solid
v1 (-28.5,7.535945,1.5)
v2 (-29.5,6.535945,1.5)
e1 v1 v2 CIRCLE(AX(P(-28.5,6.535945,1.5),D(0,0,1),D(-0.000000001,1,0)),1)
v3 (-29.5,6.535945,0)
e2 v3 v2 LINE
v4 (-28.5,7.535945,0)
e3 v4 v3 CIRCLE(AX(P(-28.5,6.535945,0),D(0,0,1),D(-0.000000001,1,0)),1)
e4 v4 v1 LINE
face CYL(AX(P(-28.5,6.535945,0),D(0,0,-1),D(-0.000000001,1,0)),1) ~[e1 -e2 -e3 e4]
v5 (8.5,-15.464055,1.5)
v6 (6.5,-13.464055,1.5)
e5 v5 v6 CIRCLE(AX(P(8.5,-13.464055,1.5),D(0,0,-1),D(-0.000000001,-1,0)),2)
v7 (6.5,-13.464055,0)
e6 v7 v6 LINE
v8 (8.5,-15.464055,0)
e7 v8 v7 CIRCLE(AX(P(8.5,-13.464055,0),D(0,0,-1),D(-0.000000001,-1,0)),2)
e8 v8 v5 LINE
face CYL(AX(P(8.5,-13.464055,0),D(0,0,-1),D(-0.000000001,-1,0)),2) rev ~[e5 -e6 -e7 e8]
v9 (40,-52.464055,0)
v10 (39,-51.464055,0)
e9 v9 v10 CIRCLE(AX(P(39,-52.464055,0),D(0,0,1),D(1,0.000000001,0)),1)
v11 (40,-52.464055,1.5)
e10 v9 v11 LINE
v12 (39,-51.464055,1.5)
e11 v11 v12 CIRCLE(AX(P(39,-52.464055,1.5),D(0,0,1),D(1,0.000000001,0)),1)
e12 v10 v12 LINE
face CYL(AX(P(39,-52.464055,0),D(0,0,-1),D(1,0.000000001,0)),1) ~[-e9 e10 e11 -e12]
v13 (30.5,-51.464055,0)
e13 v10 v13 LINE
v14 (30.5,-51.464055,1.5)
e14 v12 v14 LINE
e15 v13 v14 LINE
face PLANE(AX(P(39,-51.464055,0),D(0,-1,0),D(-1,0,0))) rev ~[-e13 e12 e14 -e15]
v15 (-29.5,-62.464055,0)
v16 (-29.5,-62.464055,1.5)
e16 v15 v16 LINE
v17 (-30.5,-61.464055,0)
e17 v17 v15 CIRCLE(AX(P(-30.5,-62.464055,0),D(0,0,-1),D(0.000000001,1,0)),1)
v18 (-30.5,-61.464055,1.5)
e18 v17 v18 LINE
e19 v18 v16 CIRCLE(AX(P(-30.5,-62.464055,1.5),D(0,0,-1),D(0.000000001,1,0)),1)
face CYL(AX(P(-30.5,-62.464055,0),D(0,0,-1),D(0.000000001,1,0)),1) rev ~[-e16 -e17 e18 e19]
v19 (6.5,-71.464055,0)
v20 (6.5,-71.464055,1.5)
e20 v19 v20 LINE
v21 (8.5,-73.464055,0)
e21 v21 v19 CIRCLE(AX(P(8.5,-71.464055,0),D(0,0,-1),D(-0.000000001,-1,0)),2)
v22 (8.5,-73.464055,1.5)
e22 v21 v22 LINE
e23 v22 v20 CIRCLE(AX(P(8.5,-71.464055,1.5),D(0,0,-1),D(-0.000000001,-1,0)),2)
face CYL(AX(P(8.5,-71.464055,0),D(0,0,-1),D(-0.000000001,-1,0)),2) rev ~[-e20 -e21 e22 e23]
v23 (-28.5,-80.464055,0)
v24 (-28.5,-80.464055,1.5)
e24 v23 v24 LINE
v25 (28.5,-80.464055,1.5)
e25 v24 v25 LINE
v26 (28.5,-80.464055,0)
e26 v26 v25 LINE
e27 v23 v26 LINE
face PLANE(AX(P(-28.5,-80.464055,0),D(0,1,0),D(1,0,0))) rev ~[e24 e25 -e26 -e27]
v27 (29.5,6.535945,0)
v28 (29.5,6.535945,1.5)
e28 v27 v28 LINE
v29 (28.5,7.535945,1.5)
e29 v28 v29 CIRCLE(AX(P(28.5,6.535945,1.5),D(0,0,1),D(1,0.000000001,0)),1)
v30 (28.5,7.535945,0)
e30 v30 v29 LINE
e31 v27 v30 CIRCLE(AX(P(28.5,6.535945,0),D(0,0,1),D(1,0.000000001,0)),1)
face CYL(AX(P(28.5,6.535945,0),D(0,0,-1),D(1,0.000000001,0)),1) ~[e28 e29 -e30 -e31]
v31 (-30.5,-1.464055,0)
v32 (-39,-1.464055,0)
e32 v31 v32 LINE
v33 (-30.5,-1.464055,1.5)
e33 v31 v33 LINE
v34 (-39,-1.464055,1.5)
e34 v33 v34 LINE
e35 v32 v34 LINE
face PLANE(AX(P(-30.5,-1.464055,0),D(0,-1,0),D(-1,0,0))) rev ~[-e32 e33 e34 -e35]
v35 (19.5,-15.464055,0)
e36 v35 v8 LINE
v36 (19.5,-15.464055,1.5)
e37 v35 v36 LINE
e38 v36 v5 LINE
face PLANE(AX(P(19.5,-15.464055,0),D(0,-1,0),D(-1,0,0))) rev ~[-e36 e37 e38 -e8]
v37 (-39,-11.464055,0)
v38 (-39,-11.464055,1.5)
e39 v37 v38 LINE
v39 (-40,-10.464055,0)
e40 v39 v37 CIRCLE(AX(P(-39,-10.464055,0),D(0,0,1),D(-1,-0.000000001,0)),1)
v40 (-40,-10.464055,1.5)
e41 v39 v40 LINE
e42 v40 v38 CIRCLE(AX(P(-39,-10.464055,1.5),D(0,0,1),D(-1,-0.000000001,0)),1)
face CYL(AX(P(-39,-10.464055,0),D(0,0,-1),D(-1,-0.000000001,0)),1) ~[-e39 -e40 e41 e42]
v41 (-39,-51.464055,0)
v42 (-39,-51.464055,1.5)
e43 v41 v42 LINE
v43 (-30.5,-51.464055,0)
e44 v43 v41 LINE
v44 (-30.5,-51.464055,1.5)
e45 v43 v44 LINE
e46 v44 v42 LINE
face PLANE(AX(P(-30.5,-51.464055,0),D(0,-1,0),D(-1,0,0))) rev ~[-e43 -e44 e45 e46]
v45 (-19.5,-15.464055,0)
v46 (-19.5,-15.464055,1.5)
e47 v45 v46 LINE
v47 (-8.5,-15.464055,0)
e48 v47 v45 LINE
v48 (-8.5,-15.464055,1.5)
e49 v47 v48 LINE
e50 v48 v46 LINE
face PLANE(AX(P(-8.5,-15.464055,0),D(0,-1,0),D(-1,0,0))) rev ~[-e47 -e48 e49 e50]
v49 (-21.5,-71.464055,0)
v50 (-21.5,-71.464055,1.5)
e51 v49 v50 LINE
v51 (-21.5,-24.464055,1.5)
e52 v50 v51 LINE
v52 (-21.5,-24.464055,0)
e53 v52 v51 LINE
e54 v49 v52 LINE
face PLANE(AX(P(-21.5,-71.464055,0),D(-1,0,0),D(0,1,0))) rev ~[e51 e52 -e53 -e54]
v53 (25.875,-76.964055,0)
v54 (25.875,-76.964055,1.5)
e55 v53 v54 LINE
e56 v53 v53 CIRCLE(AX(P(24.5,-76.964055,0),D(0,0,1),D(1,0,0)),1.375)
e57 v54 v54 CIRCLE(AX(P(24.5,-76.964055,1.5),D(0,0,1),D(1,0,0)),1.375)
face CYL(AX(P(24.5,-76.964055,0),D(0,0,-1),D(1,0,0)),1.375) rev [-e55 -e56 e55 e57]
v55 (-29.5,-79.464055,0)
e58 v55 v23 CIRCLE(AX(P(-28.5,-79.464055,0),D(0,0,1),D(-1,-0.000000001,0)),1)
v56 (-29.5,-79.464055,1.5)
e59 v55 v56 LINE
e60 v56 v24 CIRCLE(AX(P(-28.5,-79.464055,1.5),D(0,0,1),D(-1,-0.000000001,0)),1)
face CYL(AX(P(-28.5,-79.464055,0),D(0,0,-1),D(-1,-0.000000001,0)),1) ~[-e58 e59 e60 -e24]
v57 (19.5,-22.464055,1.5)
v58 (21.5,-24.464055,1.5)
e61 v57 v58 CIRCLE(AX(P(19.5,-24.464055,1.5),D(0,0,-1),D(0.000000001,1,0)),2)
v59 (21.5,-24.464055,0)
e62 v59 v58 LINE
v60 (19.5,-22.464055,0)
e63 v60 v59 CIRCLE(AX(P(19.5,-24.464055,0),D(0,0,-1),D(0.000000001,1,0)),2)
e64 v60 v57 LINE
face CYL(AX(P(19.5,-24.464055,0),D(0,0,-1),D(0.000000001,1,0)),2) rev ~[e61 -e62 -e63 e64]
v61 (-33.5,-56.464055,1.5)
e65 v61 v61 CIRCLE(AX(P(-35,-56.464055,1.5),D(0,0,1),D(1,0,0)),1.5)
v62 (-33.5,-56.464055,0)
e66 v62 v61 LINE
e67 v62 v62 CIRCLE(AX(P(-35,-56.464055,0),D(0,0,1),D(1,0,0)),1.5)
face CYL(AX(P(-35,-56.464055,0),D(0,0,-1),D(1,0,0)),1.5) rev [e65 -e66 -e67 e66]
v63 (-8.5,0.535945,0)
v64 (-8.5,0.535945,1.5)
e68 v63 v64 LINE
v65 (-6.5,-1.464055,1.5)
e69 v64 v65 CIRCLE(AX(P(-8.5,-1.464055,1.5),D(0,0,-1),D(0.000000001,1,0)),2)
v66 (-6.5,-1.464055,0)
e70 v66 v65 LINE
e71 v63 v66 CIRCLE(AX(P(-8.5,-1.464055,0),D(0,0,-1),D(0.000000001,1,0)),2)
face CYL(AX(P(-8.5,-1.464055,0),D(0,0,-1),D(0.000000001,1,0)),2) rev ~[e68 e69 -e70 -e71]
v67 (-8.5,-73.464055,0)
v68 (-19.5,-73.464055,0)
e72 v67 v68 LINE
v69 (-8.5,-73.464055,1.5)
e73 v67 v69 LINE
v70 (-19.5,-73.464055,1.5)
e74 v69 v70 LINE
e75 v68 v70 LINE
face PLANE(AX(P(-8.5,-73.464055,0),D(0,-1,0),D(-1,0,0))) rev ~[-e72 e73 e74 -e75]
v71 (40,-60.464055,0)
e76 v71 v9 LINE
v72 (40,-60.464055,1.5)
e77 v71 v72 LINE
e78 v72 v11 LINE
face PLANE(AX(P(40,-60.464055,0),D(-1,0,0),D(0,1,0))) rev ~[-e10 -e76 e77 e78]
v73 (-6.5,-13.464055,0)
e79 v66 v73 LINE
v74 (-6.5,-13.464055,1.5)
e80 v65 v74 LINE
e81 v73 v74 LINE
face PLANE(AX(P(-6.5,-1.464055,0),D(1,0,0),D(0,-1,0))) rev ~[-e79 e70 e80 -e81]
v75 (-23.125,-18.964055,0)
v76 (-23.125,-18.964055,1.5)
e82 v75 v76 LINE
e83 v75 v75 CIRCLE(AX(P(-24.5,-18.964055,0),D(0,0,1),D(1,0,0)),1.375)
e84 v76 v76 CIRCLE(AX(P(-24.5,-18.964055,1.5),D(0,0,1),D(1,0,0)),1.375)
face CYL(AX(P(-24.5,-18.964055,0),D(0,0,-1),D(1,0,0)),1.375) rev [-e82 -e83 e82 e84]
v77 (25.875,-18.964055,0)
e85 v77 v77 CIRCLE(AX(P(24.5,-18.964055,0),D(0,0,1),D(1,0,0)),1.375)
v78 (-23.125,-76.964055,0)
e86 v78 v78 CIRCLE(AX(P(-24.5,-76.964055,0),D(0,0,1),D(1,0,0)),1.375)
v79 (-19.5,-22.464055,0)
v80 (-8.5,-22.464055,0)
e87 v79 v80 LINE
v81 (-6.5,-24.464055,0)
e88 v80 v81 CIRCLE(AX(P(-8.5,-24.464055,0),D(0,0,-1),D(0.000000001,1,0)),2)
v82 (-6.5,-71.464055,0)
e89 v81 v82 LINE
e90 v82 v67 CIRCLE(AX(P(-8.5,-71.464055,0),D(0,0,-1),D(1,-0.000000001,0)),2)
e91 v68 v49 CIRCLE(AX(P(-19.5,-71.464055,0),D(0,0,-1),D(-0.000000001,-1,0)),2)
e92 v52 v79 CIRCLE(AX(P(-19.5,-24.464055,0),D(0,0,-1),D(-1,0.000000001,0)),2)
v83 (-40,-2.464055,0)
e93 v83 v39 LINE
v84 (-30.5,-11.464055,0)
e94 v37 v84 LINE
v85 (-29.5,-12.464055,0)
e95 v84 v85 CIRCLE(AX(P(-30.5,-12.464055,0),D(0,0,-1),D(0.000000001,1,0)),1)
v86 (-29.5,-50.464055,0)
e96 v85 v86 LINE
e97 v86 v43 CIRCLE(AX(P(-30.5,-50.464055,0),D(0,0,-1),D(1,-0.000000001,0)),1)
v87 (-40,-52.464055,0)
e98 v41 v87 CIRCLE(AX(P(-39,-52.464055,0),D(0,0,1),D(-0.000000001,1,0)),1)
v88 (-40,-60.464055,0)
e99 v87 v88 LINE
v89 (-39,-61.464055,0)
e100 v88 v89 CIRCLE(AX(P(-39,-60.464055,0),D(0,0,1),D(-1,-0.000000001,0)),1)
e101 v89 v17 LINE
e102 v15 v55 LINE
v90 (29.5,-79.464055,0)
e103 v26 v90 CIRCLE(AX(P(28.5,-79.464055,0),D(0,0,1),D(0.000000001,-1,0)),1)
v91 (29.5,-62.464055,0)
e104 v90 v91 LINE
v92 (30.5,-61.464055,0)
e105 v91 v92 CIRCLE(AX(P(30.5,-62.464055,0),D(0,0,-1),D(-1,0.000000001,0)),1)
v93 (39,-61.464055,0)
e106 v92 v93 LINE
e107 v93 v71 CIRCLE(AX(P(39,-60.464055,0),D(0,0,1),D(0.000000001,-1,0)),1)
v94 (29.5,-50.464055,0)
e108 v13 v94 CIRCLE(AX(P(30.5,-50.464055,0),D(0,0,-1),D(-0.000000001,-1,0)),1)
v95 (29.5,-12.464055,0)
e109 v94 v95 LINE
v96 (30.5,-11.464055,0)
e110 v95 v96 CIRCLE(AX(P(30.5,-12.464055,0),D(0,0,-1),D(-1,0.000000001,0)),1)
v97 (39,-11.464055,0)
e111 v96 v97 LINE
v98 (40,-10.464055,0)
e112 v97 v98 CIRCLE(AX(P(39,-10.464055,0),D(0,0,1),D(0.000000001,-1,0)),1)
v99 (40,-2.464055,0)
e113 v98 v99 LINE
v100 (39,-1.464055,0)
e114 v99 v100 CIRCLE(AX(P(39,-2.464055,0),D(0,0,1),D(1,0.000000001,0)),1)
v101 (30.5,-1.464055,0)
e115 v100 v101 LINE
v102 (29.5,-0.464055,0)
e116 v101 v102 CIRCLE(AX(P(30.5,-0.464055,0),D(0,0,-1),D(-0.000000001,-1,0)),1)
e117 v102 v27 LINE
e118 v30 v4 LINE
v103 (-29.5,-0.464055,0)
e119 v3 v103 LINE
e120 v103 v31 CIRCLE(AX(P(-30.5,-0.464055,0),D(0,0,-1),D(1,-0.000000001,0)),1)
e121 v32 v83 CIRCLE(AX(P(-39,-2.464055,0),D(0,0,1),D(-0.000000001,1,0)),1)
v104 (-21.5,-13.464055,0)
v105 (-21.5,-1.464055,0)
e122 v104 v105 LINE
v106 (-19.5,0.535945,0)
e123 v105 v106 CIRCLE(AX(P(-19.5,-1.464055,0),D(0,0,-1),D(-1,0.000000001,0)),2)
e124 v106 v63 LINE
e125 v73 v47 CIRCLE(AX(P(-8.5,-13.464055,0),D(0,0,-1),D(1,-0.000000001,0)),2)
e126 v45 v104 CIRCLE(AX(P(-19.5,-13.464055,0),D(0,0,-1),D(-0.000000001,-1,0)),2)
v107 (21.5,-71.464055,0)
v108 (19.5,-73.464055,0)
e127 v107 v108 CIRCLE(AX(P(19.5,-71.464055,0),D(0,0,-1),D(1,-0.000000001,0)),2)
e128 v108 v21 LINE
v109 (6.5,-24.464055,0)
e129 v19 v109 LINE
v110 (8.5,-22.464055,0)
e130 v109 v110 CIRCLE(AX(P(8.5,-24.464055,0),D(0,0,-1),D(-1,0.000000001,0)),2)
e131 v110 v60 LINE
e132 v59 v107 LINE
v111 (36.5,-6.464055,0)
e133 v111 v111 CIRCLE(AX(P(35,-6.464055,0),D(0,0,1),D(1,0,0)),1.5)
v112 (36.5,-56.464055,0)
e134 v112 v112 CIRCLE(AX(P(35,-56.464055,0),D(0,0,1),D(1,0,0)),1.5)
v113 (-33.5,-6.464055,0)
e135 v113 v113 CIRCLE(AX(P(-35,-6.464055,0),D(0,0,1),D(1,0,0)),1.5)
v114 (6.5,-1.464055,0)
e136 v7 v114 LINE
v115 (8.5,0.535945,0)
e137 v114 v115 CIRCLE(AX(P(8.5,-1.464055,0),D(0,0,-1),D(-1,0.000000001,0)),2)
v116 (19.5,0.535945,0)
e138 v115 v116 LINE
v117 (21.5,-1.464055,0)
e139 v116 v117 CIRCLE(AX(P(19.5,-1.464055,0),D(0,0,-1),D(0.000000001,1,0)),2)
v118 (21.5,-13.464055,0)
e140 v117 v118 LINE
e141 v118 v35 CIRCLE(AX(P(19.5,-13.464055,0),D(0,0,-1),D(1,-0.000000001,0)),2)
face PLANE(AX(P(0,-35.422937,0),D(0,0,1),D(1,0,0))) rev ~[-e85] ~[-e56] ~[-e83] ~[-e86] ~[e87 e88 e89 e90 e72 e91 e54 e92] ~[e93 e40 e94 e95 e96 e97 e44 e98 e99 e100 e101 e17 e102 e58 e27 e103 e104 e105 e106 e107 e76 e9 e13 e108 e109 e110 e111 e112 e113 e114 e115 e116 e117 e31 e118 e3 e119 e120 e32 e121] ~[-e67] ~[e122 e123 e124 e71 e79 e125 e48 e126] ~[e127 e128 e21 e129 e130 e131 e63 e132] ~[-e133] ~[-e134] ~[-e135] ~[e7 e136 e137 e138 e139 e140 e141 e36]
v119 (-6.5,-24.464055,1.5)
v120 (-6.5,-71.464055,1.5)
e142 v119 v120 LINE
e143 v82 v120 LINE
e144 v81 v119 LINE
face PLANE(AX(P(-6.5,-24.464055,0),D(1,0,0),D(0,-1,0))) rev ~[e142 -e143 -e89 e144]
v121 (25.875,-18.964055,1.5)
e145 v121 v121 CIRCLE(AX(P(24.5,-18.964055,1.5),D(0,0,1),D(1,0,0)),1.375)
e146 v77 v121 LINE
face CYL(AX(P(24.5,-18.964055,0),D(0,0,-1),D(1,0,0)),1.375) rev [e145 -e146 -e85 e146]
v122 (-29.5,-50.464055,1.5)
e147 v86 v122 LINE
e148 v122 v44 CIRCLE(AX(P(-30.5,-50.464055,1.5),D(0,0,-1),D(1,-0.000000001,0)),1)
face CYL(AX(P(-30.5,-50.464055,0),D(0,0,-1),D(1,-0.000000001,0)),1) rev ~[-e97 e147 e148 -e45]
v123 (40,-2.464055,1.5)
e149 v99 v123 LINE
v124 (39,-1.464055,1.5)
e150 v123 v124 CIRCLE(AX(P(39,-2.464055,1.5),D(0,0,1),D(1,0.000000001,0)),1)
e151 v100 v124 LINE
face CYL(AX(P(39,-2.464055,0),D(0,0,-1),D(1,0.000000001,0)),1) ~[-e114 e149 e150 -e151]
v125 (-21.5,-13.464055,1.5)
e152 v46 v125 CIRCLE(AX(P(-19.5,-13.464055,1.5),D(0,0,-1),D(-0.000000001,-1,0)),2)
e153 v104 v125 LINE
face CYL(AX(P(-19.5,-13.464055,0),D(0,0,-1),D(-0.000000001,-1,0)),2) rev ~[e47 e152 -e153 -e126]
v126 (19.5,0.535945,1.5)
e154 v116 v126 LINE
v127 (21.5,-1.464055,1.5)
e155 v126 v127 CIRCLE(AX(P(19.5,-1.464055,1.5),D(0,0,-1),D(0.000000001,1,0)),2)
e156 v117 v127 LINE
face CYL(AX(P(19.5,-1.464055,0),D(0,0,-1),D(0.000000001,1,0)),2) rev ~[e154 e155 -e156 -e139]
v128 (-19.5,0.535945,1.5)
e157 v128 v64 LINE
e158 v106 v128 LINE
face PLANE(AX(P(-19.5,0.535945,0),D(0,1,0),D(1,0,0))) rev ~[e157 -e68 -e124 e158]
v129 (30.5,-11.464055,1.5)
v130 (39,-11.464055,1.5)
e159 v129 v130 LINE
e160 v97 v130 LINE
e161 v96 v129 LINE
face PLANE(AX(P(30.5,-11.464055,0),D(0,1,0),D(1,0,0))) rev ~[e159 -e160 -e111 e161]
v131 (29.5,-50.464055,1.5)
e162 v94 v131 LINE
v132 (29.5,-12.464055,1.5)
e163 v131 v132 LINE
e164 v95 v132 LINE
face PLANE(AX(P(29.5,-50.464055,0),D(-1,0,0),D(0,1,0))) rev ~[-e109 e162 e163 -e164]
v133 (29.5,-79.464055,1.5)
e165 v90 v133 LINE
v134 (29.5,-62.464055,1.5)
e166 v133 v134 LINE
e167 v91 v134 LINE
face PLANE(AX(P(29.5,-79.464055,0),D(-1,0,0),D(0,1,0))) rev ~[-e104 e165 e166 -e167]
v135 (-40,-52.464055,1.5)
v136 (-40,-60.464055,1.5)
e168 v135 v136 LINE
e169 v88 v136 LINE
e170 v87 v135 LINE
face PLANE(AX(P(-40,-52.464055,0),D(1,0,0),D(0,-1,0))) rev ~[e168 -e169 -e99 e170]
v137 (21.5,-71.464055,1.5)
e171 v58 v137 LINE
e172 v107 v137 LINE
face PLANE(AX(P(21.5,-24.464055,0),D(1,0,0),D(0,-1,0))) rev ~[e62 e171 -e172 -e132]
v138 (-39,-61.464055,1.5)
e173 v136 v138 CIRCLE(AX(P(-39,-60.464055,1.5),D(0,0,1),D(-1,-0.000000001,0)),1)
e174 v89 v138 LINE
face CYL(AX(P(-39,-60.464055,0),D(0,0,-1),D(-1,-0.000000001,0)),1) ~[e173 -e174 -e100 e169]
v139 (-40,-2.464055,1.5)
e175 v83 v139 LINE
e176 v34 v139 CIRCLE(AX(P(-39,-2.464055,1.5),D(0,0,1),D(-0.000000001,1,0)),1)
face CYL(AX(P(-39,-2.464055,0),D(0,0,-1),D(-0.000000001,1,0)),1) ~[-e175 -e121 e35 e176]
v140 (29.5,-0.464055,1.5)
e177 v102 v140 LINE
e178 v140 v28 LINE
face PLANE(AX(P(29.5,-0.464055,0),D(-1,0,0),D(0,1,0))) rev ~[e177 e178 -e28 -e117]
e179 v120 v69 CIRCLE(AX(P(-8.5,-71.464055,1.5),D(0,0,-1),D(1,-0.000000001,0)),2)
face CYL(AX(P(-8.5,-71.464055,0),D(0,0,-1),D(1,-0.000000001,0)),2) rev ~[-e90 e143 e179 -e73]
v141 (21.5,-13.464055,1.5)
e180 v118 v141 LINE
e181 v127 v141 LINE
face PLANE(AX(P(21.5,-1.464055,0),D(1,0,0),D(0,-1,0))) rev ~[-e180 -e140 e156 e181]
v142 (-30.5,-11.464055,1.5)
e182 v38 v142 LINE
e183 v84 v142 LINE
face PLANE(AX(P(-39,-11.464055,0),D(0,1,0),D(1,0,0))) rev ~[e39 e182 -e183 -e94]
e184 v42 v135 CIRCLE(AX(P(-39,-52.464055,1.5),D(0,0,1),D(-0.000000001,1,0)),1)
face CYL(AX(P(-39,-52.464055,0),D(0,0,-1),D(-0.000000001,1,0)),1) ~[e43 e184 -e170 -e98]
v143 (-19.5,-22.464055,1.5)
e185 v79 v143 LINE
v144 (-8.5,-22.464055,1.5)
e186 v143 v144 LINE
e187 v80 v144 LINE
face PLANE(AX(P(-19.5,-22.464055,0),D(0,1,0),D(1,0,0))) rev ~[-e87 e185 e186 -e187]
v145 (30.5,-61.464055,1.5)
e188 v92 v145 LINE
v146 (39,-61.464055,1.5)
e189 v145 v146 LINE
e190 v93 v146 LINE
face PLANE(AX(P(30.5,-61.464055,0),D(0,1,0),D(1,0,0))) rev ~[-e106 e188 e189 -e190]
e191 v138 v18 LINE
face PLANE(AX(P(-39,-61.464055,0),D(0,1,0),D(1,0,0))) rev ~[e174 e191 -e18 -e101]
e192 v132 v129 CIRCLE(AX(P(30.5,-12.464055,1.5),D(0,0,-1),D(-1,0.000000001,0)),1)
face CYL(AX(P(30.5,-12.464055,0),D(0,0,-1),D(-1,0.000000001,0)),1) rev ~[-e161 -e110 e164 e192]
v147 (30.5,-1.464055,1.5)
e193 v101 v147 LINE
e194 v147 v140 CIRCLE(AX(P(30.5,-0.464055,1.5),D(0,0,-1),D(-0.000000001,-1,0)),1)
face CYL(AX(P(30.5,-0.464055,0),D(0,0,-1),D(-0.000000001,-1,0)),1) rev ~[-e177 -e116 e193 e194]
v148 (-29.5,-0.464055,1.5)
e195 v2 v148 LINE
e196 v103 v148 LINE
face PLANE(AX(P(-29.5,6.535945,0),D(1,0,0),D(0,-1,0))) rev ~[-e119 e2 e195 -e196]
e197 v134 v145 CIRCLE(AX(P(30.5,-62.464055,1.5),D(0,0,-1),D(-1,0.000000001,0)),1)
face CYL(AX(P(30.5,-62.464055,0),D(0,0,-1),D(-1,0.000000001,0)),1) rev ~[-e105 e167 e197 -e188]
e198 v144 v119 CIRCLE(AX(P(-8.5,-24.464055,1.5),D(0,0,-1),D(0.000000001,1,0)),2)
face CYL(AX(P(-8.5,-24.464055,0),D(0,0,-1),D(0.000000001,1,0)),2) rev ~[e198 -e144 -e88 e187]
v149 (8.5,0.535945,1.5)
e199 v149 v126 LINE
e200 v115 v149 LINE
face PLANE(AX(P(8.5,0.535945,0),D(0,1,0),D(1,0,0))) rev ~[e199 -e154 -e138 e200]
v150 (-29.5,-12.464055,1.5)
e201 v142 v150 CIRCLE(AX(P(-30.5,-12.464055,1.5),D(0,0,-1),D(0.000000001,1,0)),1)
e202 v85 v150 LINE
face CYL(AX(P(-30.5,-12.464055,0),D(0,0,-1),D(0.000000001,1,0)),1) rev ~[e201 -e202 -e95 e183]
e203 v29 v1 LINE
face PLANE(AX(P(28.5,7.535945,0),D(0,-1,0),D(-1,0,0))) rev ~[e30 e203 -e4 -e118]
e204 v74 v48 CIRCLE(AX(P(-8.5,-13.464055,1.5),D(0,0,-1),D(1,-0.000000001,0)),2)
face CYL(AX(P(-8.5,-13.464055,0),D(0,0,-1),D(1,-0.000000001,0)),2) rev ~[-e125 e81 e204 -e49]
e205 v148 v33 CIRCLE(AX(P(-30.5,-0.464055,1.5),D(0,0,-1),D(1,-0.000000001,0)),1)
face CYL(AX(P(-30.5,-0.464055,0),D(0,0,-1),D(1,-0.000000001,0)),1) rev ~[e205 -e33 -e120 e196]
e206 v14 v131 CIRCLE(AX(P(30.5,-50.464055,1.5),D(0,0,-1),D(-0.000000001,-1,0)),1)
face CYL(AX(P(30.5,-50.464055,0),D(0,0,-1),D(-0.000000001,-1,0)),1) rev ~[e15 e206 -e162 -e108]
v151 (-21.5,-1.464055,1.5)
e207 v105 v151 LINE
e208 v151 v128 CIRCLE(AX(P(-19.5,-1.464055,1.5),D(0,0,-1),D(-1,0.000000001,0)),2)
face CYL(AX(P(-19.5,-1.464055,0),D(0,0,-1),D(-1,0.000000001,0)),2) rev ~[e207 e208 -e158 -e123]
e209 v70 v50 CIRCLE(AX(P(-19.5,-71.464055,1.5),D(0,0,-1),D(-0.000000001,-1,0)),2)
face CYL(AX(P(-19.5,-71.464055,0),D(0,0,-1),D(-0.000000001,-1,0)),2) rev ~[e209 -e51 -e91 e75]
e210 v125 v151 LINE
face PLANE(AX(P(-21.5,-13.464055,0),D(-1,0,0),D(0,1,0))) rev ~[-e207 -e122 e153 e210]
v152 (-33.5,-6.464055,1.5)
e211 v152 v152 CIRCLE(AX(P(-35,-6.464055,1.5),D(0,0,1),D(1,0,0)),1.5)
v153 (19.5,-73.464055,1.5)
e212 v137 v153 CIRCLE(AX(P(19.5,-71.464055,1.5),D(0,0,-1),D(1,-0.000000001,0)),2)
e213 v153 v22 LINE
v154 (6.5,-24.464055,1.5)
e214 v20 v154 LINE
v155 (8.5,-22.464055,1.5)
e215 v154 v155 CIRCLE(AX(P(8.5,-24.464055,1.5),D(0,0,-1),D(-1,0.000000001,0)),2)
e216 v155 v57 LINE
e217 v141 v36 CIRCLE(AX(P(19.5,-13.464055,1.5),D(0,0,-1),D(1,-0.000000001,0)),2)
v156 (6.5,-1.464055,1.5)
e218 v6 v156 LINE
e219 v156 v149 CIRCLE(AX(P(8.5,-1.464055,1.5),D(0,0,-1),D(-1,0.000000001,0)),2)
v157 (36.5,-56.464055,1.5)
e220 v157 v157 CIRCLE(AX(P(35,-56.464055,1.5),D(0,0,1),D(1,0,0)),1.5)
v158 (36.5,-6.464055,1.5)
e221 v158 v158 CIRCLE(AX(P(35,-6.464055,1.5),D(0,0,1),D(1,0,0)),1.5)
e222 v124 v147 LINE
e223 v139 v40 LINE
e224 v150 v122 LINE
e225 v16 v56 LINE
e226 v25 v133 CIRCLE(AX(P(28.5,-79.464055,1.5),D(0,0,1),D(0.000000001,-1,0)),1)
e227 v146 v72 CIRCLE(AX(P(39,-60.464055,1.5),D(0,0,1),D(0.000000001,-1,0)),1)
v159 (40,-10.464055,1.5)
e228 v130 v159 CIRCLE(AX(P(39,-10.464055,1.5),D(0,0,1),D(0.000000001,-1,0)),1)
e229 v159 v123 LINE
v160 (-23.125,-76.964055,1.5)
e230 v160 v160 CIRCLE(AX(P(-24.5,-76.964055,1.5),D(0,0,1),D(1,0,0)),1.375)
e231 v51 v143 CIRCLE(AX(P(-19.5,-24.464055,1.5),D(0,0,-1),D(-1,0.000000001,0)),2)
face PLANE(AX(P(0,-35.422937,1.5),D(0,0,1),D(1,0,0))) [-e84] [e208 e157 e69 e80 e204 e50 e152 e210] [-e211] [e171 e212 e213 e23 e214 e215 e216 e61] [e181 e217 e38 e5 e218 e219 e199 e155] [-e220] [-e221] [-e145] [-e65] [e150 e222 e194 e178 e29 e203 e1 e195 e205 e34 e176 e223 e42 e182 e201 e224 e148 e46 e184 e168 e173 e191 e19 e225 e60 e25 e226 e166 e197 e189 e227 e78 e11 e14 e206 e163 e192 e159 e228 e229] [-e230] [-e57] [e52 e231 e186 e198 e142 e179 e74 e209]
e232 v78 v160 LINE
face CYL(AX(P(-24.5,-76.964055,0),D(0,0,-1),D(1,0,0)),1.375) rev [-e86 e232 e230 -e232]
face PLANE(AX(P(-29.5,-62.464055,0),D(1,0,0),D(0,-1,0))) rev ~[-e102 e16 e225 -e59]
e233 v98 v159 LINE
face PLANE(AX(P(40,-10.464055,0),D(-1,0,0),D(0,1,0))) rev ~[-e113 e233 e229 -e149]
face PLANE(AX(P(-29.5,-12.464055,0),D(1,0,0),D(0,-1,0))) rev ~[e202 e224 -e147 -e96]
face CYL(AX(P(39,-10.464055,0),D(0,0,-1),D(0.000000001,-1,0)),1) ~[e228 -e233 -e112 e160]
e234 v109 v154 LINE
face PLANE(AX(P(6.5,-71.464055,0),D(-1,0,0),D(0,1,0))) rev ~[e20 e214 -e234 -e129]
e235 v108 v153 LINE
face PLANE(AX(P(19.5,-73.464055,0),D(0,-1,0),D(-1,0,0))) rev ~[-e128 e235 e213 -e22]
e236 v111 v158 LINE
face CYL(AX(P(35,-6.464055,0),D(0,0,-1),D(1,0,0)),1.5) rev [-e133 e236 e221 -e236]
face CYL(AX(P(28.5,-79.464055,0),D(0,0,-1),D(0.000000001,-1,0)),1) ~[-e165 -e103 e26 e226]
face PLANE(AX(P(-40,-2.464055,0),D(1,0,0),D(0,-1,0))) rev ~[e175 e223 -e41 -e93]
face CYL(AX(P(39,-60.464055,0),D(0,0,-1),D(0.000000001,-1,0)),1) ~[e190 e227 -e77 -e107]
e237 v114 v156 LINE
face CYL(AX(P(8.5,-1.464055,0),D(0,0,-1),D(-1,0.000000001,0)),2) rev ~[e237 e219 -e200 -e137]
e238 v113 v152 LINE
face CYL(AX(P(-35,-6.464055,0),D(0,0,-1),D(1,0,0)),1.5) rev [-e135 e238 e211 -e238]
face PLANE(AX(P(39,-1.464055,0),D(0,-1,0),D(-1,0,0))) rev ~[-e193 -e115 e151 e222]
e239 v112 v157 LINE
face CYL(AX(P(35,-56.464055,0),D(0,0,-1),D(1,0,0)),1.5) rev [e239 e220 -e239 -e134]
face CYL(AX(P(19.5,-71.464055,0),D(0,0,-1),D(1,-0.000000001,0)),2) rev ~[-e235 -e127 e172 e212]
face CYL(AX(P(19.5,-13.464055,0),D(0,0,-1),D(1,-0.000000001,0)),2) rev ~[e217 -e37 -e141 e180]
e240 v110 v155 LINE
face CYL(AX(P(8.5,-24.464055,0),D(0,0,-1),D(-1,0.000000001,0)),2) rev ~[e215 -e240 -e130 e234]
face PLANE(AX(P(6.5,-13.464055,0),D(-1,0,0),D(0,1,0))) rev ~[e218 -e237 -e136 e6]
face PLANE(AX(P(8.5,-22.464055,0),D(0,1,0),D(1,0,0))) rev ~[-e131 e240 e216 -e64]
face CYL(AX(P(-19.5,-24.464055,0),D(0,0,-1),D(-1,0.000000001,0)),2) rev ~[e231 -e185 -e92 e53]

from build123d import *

# Parameters (mm, degrees)
MODEL_R         = 1.375
MODEL_R_2       = 1.5
EXTRUDE_1_DEPTH = 1.5


with BuildPart() as part:
    # Model → Бобышка-Вытянуть1 (new body)
    with BuildSketch(Plane.XY):
        with BuildLine():
            ThreePointArc((-28.5, 7.535944945), (-29.207106781, 7.243051726), (-29.5, 6.535944945))
            Line((-29.5, 6.535944945), (-29.5, -0.464055055))
            ThreePointArc((-29.5, -0.464055055), (-29.792893219, -1.171161836), (-30.5, -1.464055055))
            Line((-30.5, -1.464055055), (-39, -1.464055055))
            ThreePointArc((-39, -1.464055055), (-39.707106781, -1.756948274), (-40, -2.464055055))
            Line((-40, -2.464055055), (-40, -10.464055055))
            ThreePointArc((-40, -10.464055055), (-39.707106781, -11.171161836), (-39, -11.464055055))
            Line((-39, -11.464055055), (-30.5, -11.464055055))
            ThreePointArc((-30.5, -11.464055055), (-29.792893219, -11.756948274), (-29.5, -12.464055055))
            Line((-29.5, -12.464055055), (-29.5, -50.464055055))
            ThreePointArc((-29.5, -50.464055055), (-29.792893219, -51.171161836), (-30.5, -51.464055055))
            Line((-30.5, -51.464055055), (-39, -51.464055055))
            ThreePointArc((-39, -51.464055055), (-39.707106781, -51.756948274), (-40, -52.464055055))
            Line((-40, -52.464055055), (-40, -60.464055055))
            ThreePointArc((-40, -60.464055055), (-39.707106781, -61.171161836), (-39, -61.464055055))
            Line((-39, -61.464055055), (-30.5, -61.464055055))
            ThreePointArc((-30.5, -61.464055055), (-29.792893219, -61.756948274), (-29.5, -62.464055055))
            Line((-29.5, -62.464055055), (-29.5, -79.464055055))
            ThreePointArc((-29.5, -79.464055055), (-29.207106781, -80.171161836), (-28.5, -80.464055055))
            Line((-28.5, -80.464055055), (28.5, -80.464055055))
            ThreePointArc((28.5, -80.464055055), (29.207106781, -80.171161836), (29.5, -79.464055055))
            Line((29.5, -79.464055055), (29.5, -62.464055055))
            ThreePointArc((29.5, -62.464055055), (29.792893219, -61.756948274), (30.5, -61.464055055))
            Line((30.5, -61.464055055), (39, -61.464055055))
            ThreePointArc((39, -61.464055055), (39.707106781, -61.171161836), (40, -60.464055055))
            Line((40, -60.464055055), (40, -52.464055055))
            ThreePointArc((40, -52.464055055), (39.707106781, -51.756948274), (39, -51.464055055))
            Line((39, -51.464055055), (30.5, -51.464055055))
            ThreePointArc((30.5, -51.464055055), (29.792893219, -51.171161836), (29.5, -50.464055055))
            Line((29.5, -50.464055055), (29.5, -12.464055055))
            ThreePointArc((29.5, -12.464055055), (29.792893219, -11.756948274), (30.5, -11.464055055))
            Line((30.5, -11.464055055), (39, -11.464055055))
            ThreePointArc((39, -11.464055055), (39.707106781, -11.171161836), (40, -10.464055055))
            Line((40, -10.464055055), (40, -2.464055055))
            ThreePointArc((40, -2.464055055), (39.707106781, -1.756948274), (39, -1.464055055))
            Line((39, -1.464055055), (30.5, -1.464055055))
            ThreePointArc((30.5, -1.464055055), (29.792893219, -1.171161836), (29.5, -0.464055055))
            Line((29.5, -0.464055055), (29.5, 6.535944945))
            ThreePointArc((29.5, 6.535944945), (29.207106781, 7.243051726), (28.5, 7.535944945))
            Line((28.5, 7.535944945), (-28.5, 7.535944945))
        make_face()
        with Locations((-24.5, -76.964055055)):
            Circle(MODEL_R, mode=Mode.SUBTRACT)
        with Locations((-35, -56.464055055)):
            Circle(MODEL_R_2, mode=Mode.SUBTRACT)
        with BuildLine():
            ThreePointArc((-21.5, -24.464055055), (-20.914213562, -23.049841493), (-19.5, -22.464055055))
            Line((-19.5, -22.464055055), (-8.5, -22.464055055))
            ThreePointArc((-8.5, -22.464055055), (-7.085786438, -23.049841493), (-6.5, -24.464055055))
            Line((-6.5, -24.464055055), (-6.5, -71.464055055))
            ThreePointArc((-6.5, -71.464055055), (-7.085786438, -72.878268617), (-8.5, -73.464055055))
            Line((-8.5, -73.464055055), (-19.5, -73.464055055))
            ThreePointArc((-19.5, -73.464055055), (-20.914213562, -72.878268617), (-21.5, -71.464055055))
            Line((-21.5, -71.464055055), (-21.5, -24.464055055))
        make_face(mode=Mode.SUBTRACT)
        with Locations((-24.5, -18.964055055)):
            Circle(MODEL_R, mode=Mode.SUBTRACT)
        with Locations((-35, -6.464055055)):
            Circle(MODEL_R_2, mode=Mode.SUBTRACT)
        with BuildLine():
            Line((-8.5, -15.464055055), (-19.5, -15.464055055))
            ThreePointArc((-19.5, -15.464055055), (-20.914213562, -14.878268617), (-21.5, -13.464055055))
            Line((-21.5, -13.464055055), (-21.5, -1.464055055))
            ThreePointArc((-21.5, -1.464055055), (-20.914213562, -0.049841493), (-19.5, 0.535944945))
            Line((-19.5, 0.535944945), (-8.5, 0.535944945))
            ThreePointArc((-8.5, 0.535944945), (-7.085786438, -0.049841493), (-6.5, -1.464055055))
            Line((-6.5, -1.464055055), (-6.5, -13.464055055))
            ThreePointArc((-6.5, -13.464055055), (-7.085786438, -14.878268617), (-8.5, -15.464055055))
        make_face(mode=Mode.SUBTRACT)
        with Locations((24.5, -76.964055055)):
            Circle(MODEL_R, mode=Mode.SUBTRACT)
        with BuildLine():
            Line((21.5, -24.464055055), (21.5, -71.464055055))
            ThreePointArc((21.5, -71.464055055), (20.914213562, -72.878268617), (19.5, -73.464055055))
            Line((19.5, -73.464055055), (8.5, -73.464055055))
            ThreePointArc((8.5, -73.464055055), (7.085786438, -72.878268617), (6.5, -71.464055055))
            Line((6.5, -71.464055055), (6.5, -24.464055055))
            ThreePointArc((6.5, -24.464055055), (7.085786438, -23.049841493), (8.5, -22.464055055))
            Line((8.5, -22.464055055), (19.5, -22.464055055))
            ThreePointArc((19.5, -22.464055055), (20.914213562, -23.049841493), (21.5, -24.464055055))
        make_face(mode=Mode.SUBTRACT)
        with Locations((35, -56.464055055)):
            Circle(MODEL_R_2, mode=Mode.SUBTRACT)
        with Locations((24.5, -18.964055055)):
            Circle(MODEL_R, mode=Mode.SUBTRACT)
        with BuildLine():
            ThreePointArc((21.5, -13.464055055), (20.914213562, -14.878268617), (19.5, -15.464055055))
            Line((19.5, -15.464055055), (8.5, -15.464055055))
            ThreePointArc((8.5, -15.464055055), (7.085786438, -14.878268617), (6.5, -13.464055055))
            Line((6.5, -13.464055055), (6.5, -1.464055055))
            ThreePointArc((6.5, -1.464055055), (7.085786438, -0.049841493), (8.5, 0.535944945))
            Line((8.5, 0.535944945), (19.5, 0.535944945))
            ThreePointArc((19.5, 0.535944945), (20.914213562, -0.049841493), (21.5, -1.464055055))
            Line((21.5, -1.464055055), (21.5, -13.464055055))
        make_face(mode=Mode.SUBTRACT)
        with Locations((35, -6.464055055)):
            Circle(MODEL_R_2, mode=Mode.SUBTRACT)
    extrude(amount=EXTRUDE_1_DEPTH)


solid = part.part
